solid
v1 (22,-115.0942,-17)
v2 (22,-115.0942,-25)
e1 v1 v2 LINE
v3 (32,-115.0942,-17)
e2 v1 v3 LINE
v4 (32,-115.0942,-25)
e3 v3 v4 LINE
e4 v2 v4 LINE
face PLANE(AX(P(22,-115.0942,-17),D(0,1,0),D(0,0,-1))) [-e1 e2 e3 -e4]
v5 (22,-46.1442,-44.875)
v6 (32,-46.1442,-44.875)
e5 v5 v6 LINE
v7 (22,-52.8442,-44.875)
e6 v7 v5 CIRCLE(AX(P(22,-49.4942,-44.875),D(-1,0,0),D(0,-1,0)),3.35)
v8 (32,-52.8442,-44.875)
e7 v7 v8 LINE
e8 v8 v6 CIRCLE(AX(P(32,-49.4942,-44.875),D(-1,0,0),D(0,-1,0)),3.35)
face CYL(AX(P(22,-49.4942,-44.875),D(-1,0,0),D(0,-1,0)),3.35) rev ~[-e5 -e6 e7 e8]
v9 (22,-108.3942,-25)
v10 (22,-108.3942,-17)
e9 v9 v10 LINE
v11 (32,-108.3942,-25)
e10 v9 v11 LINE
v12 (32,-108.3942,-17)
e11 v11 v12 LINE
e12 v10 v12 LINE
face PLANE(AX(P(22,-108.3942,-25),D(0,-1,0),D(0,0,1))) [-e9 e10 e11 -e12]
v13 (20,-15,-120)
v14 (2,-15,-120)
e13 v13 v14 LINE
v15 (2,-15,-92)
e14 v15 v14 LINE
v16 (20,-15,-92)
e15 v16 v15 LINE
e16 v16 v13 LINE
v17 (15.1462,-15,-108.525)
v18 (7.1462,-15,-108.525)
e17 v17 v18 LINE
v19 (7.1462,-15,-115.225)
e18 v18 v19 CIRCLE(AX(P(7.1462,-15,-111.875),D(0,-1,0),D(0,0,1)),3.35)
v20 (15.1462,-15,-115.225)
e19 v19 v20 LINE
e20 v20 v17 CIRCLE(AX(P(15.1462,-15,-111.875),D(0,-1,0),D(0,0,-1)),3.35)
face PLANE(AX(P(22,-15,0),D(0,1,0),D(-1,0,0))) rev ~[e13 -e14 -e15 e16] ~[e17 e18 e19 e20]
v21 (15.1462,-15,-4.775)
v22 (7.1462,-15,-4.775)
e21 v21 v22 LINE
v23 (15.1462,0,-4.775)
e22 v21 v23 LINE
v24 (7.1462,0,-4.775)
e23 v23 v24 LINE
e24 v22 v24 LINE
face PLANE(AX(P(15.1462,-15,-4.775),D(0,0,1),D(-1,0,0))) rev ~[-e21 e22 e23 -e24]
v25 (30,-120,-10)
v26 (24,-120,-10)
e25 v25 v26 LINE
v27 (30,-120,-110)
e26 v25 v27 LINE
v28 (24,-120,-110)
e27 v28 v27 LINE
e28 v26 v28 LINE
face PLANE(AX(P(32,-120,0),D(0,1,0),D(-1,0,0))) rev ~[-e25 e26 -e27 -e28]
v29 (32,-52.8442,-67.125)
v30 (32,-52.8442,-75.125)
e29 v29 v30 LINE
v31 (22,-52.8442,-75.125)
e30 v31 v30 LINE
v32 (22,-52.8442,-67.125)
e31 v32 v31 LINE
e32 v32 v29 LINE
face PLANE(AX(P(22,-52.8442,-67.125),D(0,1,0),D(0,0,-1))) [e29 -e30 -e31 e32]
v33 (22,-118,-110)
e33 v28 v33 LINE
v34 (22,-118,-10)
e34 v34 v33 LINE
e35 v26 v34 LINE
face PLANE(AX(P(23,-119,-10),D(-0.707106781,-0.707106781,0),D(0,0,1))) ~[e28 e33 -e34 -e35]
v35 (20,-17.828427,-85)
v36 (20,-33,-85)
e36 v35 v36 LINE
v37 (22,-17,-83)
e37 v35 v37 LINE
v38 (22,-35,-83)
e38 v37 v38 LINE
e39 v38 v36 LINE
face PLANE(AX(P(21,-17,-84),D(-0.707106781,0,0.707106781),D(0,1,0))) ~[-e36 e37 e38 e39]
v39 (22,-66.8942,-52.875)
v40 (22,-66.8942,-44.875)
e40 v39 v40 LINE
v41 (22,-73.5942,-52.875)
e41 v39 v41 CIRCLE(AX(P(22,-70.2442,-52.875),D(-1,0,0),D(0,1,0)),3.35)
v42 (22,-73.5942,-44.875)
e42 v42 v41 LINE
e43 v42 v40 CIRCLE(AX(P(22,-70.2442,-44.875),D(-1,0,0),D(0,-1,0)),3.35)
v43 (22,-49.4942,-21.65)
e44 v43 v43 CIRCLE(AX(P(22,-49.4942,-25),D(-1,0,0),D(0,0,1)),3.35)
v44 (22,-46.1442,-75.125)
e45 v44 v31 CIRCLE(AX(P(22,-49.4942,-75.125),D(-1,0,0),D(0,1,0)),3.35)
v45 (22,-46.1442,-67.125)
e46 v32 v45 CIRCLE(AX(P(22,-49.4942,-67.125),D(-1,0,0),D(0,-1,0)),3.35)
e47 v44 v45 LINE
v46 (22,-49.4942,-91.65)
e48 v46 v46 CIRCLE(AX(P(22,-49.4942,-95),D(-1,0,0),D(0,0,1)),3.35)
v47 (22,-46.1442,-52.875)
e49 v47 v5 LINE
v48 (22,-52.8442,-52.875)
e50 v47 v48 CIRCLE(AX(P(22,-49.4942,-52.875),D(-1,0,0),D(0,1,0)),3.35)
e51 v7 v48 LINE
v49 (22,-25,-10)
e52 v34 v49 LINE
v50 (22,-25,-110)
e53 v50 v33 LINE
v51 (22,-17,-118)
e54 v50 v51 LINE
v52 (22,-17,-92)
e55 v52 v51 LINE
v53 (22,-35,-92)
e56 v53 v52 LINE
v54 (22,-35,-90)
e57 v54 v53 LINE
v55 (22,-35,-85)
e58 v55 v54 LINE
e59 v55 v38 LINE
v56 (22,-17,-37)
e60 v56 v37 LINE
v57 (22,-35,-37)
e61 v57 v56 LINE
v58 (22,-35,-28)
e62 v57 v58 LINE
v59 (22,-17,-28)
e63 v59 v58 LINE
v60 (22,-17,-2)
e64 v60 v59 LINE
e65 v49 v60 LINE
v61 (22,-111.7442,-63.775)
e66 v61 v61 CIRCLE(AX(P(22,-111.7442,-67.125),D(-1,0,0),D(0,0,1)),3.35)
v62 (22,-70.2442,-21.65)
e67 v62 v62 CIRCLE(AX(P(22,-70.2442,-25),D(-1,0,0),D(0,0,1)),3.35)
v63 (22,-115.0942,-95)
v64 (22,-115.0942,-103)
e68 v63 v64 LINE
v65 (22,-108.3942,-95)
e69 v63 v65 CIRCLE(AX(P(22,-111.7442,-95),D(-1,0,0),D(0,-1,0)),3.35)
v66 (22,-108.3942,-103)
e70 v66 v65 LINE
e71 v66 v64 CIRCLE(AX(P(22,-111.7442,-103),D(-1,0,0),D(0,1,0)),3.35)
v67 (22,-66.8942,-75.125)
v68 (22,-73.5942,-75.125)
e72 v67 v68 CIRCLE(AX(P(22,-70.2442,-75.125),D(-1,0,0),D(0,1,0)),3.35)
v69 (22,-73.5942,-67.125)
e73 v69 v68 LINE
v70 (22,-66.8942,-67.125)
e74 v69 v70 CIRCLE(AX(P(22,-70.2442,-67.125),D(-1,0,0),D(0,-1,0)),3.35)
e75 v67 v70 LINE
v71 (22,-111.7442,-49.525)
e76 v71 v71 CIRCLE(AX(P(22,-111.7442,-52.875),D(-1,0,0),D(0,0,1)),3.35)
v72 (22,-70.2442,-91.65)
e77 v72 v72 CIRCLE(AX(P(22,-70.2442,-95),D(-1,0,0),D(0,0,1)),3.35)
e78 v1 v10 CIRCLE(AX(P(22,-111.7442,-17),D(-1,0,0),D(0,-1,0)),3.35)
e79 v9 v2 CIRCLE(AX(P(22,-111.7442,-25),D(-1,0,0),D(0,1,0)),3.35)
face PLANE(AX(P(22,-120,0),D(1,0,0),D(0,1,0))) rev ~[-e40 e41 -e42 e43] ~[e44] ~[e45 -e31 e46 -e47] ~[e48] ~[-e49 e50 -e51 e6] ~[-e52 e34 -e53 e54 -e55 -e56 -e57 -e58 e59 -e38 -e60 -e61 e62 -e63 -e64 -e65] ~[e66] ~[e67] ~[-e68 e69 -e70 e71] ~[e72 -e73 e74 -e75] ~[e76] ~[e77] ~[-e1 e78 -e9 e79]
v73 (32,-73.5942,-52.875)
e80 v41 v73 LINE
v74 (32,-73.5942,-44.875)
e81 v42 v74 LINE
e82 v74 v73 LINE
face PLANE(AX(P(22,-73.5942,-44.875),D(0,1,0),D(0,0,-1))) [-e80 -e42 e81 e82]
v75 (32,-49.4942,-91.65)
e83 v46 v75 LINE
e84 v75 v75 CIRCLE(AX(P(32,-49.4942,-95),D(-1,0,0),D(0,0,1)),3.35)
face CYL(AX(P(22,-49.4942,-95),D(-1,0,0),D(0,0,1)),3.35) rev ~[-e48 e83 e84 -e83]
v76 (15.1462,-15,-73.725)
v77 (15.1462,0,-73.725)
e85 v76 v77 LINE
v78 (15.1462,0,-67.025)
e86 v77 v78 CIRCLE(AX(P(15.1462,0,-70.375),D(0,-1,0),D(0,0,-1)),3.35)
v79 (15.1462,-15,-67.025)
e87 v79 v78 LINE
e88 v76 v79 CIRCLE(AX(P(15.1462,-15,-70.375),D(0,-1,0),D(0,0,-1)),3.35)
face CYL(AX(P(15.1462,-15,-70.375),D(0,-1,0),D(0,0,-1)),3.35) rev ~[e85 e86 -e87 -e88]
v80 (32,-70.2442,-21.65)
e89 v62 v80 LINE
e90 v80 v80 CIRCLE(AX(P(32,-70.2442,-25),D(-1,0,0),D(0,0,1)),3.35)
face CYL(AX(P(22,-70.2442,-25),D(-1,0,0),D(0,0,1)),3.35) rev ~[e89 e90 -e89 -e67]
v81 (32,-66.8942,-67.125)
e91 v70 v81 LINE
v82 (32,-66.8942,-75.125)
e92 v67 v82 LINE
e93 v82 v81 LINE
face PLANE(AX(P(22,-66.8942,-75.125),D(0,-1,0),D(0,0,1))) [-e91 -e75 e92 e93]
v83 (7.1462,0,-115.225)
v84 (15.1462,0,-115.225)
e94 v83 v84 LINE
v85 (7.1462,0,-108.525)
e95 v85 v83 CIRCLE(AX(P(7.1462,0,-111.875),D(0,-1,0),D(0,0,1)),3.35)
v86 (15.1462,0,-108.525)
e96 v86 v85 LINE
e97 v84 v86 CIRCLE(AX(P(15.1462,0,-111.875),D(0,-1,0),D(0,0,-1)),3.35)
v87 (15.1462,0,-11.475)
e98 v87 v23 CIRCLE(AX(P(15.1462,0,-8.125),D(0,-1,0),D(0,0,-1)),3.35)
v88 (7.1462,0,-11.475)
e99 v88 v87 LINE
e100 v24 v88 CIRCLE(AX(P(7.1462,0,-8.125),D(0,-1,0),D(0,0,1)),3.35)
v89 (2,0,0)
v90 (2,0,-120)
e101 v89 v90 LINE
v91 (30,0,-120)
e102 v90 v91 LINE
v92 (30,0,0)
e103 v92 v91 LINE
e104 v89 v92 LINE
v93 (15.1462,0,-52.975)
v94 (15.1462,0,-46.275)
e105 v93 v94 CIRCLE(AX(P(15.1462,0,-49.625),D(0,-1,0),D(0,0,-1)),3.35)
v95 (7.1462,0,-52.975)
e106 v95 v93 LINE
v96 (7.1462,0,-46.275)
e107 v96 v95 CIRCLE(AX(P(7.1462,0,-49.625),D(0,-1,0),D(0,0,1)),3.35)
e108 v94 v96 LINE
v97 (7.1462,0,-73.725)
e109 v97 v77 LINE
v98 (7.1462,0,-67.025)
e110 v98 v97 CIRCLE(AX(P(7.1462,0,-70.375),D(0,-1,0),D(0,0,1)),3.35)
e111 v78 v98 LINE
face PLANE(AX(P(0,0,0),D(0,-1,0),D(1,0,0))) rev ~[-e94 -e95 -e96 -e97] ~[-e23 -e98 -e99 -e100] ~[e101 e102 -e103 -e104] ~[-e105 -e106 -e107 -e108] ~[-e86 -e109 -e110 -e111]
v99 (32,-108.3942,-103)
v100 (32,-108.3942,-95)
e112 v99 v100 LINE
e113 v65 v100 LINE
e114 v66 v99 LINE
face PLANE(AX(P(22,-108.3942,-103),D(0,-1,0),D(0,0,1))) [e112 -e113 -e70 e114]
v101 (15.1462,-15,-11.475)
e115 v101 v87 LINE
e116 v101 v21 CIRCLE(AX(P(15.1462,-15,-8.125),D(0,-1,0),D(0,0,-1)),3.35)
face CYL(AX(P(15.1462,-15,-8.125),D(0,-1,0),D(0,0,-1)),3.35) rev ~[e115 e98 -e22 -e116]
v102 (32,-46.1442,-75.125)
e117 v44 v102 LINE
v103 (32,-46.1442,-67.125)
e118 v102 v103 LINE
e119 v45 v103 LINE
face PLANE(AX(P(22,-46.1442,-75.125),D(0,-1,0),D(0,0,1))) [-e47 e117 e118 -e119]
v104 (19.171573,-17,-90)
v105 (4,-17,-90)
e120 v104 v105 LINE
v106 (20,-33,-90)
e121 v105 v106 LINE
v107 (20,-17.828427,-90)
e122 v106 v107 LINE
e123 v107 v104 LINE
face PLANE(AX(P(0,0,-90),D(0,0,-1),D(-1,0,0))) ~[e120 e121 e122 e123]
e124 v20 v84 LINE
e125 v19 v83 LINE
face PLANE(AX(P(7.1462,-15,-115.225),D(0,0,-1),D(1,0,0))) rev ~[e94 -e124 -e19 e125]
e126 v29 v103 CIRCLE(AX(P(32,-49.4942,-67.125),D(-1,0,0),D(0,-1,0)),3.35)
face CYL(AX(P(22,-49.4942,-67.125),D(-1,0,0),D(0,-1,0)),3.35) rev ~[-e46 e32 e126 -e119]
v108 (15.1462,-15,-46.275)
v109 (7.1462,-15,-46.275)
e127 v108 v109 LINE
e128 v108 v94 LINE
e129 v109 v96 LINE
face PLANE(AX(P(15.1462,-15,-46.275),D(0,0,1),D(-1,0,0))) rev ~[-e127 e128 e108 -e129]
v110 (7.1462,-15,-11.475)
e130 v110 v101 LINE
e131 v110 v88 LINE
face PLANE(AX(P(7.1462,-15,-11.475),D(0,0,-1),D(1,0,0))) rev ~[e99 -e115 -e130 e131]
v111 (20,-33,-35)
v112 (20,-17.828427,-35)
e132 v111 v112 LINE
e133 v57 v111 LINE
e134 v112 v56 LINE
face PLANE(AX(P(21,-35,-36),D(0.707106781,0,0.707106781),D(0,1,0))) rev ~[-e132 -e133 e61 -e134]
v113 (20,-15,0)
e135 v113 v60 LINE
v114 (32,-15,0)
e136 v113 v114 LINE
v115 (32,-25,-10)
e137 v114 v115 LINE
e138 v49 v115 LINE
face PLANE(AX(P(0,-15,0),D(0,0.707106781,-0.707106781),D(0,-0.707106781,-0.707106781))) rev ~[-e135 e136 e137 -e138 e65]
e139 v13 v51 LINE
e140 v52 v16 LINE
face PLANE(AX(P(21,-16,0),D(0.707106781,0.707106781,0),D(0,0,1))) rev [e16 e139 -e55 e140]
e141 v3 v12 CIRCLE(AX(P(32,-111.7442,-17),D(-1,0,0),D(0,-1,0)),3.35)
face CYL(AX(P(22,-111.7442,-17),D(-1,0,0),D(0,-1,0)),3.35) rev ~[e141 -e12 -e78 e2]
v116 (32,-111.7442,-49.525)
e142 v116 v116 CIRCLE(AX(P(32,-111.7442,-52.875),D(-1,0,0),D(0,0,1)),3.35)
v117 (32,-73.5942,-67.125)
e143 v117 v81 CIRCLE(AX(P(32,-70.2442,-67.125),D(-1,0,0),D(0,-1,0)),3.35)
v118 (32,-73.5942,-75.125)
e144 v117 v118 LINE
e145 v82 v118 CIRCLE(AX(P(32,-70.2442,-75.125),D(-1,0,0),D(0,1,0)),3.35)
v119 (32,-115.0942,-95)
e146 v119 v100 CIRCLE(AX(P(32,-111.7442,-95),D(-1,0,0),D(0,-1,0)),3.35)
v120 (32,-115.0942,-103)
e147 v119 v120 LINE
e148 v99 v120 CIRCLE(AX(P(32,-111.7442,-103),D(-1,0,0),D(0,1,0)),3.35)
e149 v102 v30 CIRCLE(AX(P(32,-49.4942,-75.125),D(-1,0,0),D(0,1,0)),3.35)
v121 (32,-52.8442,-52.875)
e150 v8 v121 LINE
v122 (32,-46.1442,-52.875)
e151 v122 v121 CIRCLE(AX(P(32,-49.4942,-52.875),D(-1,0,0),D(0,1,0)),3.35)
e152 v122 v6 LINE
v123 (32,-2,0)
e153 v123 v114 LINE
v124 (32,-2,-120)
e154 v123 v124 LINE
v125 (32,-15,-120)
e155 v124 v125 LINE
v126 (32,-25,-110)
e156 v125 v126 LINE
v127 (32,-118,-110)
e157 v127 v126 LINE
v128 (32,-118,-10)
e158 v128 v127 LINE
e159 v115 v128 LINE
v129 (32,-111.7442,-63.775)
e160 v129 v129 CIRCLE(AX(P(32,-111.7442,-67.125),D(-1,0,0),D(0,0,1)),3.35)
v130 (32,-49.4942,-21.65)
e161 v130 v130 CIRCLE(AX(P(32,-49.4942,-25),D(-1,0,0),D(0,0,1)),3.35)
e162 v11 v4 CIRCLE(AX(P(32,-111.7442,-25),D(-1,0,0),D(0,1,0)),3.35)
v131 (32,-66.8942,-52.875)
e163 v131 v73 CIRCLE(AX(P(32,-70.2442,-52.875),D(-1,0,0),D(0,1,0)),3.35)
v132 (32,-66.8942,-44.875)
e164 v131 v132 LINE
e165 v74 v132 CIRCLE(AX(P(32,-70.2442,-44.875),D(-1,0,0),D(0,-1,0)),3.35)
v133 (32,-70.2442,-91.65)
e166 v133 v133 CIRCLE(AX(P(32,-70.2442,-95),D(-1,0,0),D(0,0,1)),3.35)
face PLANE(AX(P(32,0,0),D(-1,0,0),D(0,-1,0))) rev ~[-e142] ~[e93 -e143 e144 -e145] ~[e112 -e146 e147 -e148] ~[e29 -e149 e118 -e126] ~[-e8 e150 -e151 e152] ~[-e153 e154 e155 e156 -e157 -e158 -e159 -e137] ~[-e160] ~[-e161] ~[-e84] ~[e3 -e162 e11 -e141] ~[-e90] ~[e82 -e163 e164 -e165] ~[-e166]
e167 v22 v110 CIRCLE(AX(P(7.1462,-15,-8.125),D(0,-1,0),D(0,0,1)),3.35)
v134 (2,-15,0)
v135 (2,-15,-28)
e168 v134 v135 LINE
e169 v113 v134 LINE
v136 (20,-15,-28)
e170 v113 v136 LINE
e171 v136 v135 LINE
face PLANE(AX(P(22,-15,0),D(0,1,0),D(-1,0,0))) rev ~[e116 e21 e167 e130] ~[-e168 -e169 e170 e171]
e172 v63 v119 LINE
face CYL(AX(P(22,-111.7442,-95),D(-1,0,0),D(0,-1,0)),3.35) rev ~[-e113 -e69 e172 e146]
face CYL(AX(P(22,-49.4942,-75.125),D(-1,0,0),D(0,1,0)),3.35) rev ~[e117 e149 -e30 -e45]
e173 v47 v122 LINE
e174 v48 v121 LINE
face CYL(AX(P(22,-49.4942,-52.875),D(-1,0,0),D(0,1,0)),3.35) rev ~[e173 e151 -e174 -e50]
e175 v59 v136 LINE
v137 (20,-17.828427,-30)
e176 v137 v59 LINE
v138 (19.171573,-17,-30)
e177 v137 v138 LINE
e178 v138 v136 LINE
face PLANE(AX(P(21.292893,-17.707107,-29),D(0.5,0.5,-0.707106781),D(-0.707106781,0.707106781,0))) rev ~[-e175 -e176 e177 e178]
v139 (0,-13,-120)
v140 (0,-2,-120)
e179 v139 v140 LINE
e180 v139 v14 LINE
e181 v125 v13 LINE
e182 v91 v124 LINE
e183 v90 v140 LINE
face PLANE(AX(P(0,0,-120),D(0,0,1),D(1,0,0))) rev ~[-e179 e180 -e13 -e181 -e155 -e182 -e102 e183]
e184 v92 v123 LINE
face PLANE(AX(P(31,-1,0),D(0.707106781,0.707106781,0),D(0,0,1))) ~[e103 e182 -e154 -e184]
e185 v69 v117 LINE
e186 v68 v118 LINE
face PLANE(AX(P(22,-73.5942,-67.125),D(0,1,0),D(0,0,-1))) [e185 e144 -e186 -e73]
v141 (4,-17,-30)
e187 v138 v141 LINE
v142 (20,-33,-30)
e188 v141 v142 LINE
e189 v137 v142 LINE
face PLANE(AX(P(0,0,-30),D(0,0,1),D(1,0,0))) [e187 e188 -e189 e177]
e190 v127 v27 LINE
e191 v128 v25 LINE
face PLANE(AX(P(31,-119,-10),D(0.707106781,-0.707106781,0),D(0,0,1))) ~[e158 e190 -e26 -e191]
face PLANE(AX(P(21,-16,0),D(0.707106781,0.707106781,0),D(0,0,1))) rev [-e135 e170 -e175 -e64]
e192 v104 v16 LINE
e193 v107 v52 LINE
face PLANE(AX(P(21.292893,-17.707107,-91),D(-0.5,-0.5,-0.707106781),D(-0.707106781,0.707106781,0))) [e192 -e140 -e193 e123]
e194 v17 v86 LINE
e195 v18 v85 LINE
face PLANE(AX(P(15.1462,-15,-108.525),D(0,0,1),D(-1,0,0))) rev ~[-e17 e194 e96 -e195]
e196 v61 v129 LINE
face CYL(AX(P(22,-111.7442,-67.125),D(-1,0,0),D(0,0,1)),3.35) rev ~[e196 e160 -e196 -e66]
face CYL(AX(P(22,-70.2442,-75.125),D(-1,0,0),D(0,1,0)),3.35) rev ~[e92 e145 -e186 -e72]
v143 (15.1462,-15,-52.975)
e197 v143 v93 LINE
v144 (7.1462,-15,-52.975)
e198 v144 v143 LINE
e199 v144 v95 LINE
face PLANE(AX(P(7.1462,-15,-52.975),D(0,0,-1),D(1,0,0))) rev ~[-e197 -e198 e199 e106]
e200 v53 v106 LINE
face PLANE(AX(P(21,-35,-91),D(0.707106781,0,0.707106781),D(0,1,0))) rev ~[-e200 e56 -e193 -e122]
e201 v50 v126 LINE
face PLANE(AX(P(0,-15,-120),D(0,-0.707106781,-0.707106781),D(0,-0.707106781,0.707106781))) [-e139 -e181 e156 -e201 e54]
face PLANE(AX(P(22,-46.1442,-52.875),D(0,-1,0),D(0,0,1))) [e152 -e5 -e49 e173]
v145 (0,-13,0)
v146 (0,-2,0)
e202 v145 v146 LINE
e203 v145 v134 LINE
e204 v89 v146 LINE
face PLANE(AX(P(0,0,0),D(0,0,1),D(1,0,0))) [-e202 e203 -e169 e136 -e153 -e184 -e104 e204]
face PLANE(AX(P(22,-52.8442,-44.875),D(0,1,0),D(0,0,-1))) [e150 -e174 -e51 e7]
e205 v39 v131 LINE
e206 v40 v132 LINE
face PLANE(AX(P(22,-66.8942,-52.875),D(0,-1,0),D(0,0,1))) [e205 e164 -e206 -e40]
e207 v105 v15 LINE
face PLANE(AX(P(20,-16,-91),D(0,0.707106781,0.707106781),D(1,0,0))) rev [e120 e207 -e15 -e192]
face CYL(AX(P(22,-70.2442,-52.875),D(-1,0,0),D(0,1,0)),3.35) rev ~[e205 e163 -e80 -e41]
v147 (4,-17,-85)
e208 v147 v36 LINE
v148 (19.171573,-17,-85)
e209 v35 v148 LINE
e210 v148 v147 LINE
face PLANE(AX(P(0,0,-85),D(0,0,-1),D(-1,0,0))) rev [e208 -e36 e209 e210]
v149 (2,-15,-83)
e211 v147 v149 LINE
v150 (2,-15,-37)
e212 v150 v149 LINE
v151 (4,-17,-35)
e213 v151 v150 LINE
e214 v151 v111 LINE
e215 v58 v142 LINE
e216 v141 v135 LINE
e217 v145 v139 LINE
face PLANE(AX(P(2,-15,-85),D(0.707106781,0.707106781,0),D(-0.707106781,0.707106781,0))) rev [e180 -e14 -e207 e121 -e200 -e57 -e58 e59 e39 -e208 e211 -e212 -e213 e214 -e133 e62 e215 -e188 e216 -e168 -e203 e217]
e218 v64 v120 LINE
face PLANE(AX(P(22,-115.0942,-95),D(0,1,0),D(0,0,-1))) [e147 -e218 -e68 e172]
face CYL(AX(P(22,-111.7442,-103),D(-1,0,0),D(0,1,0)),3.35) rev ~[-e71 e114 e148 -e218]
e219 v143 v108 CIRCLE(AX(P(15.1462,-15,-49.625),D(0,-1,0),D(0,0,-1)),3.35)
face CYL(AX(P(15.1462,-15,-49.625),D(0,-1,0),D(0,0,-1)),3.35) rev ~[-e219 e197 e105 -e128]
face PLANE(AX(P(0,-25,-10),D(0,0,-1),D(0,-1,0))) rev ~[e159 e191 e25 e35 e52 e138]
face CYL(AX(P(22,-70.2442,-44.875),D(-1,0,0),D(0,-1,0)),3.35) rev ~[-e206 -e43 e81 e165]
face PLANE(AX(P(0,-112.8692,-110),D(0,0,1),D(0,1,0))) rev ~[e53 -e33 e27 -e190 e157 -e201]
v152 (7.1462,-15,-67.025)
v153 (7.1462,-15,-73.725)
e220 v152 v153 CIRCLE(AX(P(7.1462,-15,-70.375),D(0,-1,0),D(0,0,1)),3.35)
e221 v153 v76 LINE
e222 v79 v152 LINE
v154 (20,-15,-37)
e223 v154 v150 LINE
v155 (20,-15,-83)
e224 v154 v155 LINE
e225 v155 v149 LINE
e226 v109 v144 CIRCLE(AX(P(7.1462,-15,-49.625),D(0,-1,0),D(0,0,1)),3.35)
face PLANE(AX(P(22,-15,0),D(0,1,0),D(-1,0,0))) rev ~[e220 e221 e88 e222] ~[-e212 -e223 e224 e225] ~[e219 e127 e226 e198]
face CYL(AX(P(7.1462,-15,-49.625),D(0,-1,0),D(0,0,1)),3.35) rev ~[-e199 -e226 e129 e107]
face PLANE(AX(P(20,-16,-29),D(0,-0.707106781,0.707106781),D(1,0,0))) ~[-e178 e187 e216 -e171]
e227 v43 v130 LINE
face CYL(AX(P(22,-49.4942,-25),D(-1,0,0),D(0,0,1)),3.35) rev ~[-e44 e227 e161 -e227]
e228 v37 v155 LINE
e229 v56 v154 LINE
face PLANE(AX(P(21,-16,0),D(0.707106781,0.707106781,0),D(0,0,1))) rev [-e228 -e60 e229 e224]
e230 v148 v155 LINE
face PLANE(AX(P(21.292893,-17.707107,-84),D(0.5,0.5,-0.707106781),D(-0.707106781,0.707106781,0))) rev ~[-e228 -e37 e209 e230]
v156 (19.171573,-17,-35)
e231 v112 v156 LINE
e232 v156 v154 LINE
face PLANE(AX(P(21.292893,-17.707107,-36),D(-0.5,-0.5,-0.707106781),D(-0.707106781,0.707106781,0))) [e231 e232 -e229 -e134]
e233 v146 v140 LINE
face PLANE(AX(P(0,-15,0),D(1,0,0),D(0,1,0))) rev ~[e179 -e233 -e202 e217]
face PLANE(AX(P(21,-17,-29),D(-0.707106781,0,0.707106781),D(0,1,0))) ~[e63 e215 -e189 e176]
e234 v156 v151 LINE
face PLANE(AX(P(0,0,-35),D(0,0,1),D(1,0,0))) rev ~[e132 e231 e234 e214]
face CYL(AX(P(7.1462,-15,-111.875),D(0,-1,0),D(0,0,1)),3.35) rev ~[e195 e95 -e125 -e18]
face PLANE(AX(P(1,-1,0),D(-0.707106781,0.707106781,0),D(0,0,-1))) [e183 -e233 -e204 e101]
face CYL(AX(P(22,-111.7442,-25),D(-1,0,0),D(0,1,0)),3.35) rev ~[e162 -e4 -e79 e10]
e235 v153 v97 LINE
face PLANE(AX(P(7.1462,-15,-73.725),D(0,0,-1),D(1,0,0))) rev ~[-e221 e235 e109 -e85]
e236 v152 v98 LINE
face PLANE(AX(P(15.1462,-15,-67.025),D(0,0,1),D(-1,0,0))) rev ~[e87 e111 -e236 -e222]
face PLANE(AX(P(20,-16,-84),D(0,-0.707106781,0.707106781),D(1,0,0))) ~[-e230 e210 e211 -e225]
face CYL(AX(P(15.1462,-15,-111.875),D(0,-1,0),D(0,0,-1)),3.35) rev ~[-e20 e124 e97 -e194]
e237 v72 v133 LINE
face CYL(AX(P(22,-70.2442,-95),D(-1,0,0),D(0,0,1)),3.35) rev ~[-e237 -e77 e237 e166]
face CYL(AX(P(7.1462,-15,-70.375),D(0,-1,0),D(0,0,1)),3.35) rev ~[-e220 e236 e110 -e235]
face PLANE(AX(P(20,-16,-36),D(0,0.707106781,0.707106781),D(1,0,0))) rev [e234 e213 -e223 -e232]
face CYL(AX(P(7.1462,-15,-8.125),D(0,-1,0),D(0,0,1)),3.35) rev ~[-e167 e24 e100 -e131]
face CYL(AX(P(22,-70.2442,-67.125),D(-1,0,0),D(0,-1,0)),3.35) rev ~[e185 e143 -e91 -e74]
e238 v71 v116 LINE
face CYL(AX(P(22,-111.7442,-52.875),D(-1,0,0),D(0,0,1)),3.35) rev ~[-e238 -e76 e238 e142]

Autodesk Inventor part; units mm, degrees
ref_plane "YZ Plane" through (0, 0, 0) normal (1, 0, 0) x (0, 1, 0)
ref_plane "XZ Plane" through (0, 0, 0) normal (0, 1, 0) x (-1, 0, 0)
ref_plane "XY Plane" through (0, 0, 0) normal (0, 0, 1) x (1, 0, 0)
sketch "Sketch1" plane through (0, 0, 0) normal (0, 0, 1) x (1, 0, 0)
  line L0 (0, 0) -> (32, 0)
  line L1 (32, 0) -> (32, -120)
  line L2 (32, -120) -> (22, -120)
  line L3 (22, -120) -> (22, -15)
  line L4 (22, -15) -> (0, -15)
  line L5 (0, -15) -> (0, 0)
  dimension "d3" = 120
  dimension "d4" = 10
  dimension "d5" = 22
  dimension "d8" = 15
extrude "Extrusion1" add sketch "Sketch1" against normal blind 120
sketch "Sketch3" plane through (0, -15, 0) normal (-1, 0, 0) x (0, 0, 1)
  line L0 (-110, -97.8692) -> (-110, 18.1308) construction
  line L1 (-10, 18.1308) -> (-10, -97.8692) construction
  line L2 (-25, 8.9558) -> (-17, 8.9558) construction
  arc A0 (-17, 8.9558) -> (-17, 15.0558) centre (-17, 12.0058) ccw construction
  line L3 (-17, 15.0558) -> (-25, 15.0558) construction
  arc A1 (-25, 15.0558) -> (-25, 8.9558) centre (-25, 12.0058) ccw construction
  line L4 (-25, -94.7942) -> (-17, -94.7942) construction
  arc A2 (-17, -94.7942) -> (-17, -88.6942) centre (-17, -91.7442) ccw construction
  line L5 (-17, -88.6942) -> (-25, -88.6942) construction
  arc A3 (-25, -88.6942) -> (-25, -94.7942) centre (-25, -91.7442) ccw construction
  circle A4 centre (-25, -50.2442) radius 3.05 construction
  circle A5 centre (-25, -29.4942) radius 3.05 construction
  circle A6 centre (-95, -29.4942) radius 3.05 construction
  circle A7 centre (-95, -50.2442) radius 3.05 construction
  line L6 (-95, 15.0558) -> (-103, 15.0558) construction
  arc A8 (-103, 15.0558) -> (-103, 8.9558) centre (-103, 12.0058) ccw construction
  line L7 (-103, 8.9558) -> (-95, 8.9558) construction
  arc A9 (-95, 8.9558) -> (-95, 15.0558) centre (-95, 12.0058) ccw construction
  circle A10 centre (-67.125, 12.0058) radius 3.05 construction
  line L8 (-52.875, -32.5442) -> (-44.875, -32.5442) construction
  arc A11 (-44.875, -32.5442) -> (-44.875, -26.4442) centre (-44.875, -29.4942) ccw construction
  line L9 (-44.875, -26.4442) -> (-52.875, -26.4442) construction
  arc A12 (-52.875, -26.4442) -> (-52.875, -32.5442) centre (-52.875, -29.4942) ccw construction
  circle A13 centre (-52.875, -91.7442) radius 3.05 construction
  circle A14 centre (-52.875, 12.0058) radius 3.05 construction
  line L10 (-52.875, -53.2942) -> (-44.875, -53.2942) construction
  arc A15 (-44.875, -53.2942) -> (-44.875, -47.1942) centre (-44.875, -50.2442) ccw construction
  line L11 (-44.875, -47.1942) -> (-52.875, -47.1942) construction
  arc A16 (-52.875, -47.1942) -> (-52.875, -53.2942) centre (-52.875, -50.2442) ccw construction
  circle A17 centre (-67.125, -91.7442) radius 3.05 construction
  line L12 (-75.125, -53.2942) -> (-67.125, -53.2942) construction
  arc A18 (-67.125, -53.2942) -> (-67.125, -47.1942) centre (-67.125, -50.2442) ccw construction
  line L13 (-67.125, -47.1942) -> (-75.125, -47.1942) construction
  arc A19 (-75.125, -47.1942) -> (-75.125, -53.2942) centre (-75.125, -50.2442) ccw construction
  line L14 (-103, -94.7942) -> (-95, -94.7942) construction
  arc A20 (-95, -94.7942) -> (-95, -88.6942) centre (-95, -91.7442) ccw construction
  line L15 (-95, -88.6942) -> (-103, -88.6942) construction
  arc A21 (-103, -88.6942) -> (-103, -94.7942) centre (-103, -91.7442) ccw construction
  line L16 (-75.125, -32.5442) -> (-67.125, -32.5442) construction
  arc A22 (-67.125, -32.5442) -> (-67.125, -26.4442) centre (-67.125, -29.4942) ccw construction
  line L17 (-67.125, -26.4442) -> (-75.125, -26.4442) construction
  arc A23 (-75.125, -26.4442) -> (-75.125, -32.5442) centre (-75.125, -29.4942) ccw construction
  line L18 (0, -105) -> (0, 0) construction
  line L19 (0, 0) -> (-120, 0) construction
  line L20 (-120, -105) -> (-120, 0) construction
  line L21 (0, -105) -> (-120, -105) construction
  line L22 (0, 0) -> (0, 15) construction
  line L23 (0, 15) -> (-120, 15) construction
  line L24 (-120, 0) -> (-120, 15) construction
  line L25 (0, 0) -> (-120, 0) construction
  line L26 (-120, 0) -> (-110, -10)
  line L27 (-110, -99.8692) -> (-110, -10)
  line L28 (0, -105) -> (-120, -105) projected
  line L29 (-120, -105) -> (-110, -99.8692)
  line L30 (-120, -105) -> (-120, 0)
  line L31 (-120, 15) -> (-120, -105) projected
  line L32 (0, 0) -> (-120, 0) projected
  line L33 (0, 0) -> (-10, -10)
  line L34 (-10, -10) -> (-10, -99.8692)
  line L35 (0, 15) -> (0, -105) projected
  line L36 (-10, -99.8692) -> (0, -105)
  line L37 (0, -105) -> (0, -105)
  line L38 (0, 0) -> (0, -105)
  line L39 (-120, -98.4303) -> (-110, -98.4303)
  line L40 (-110, -98.4303) -> (-110, -107.1574)
  line L41 (-110, -107.1574) -> (-120, -107.1574)
  line L42 (-120, -107.1574) -> (-120, -98.4303)
  line L43 (0, -94.7942) -> (-10, -94.7942)
  line L44 (-10, -94.7942) -> (-10, -110)
  line L45 (-10, -110) -> (0, -110)
  line L46 (0, -110) -> (0, -94.7942)
  line L47 (-10, 18.1308) -> (-110, 18.1308) projected
  line L48 (-110, -97.8692) -> (-10, -97.8692) projected
  point P0 (-213, 15.0558)
  point P1 (-213, -88.6942)
  point P2 (-127, 8.9558)
  point P3 (-185.125, -26.4442)
  point P4 (-185.125, -47.1942)
  point P5 (-162.875, -47.1942)
  point P6 (-135, -88.6942)
  point P7 (-162.875, -26.4442)
  dimension "d3" = 120
  dimension "d4" = 10
  dimension "d5" = 22
  dimension "d8" = 15
  dimension "d12" = 135
  dimension "d13" = 135
extrude "Extrusion2" cut sketch "Sketch3" against normal through all contours L26 L27 L39 L30 | L39 L27 L29 L30 | L35 L43 L34 L33 | L29 L40 L28 | L28 L40 L41 L42 | L35 L36 L34 L43 | L46 L45 L44 L28 | L28 L44 L36
chamfer "Chamfer2" distance 2 angle 45 6 edges at (22, -15, -60) (0, -15, -60) (0, 0, -60) (32, 0, -60) (32, -120, -60) (22, -120, -60)
sketch "Sketch4" plane through (2, -15, -120) normal (0, -1, 0) x (1, 0, 0)
  line L0 (98.1462, 2) -> (-1.8538, 2) construction
  line L1 (98.1462, 2) -> (98.1462, 118) construction
  line L2 (-1.8538, 118) -> (98.1462, 118) construction
  line L3 (-1.8538, 118) -> (-1.8538, 2) construction
  line L4 (83.1462, 11.175) -> (91.1462, 11.175) construction
  arc A0 (91.1462, 5.075) -> (91.1462, 11.175) centre (91.1462, 8.125) ccw construction
  line L5 (91.1462, 5.075) -> (83.1462, 5.075) construction
  arc A1 (83.1462, 11.175) -> (83.1462, 5.075) centre (83.1462, 8.125) ccw construction
  line L6 (83.1462, 114.925) -> (91.1462, 114.925) construction
  arc A2 (91.1462, 108.825) -> (91.1462, 114.925) centre (91.1462, 111.875) ccw construction
  line L7 (91.1462, 108.825) -> (83.1462, 108.825) construction
  arc A3 (83.1462, 114.925) -> (83.1462, 108.825) centre (83.1462, 111.875) ccw construction
  circle A4 centre (83.1462, 70.375) radius 3.05 construction
  circle A5 centre (83.1462, 49.625) radius 3.05 construction
  circle A6 centre (13.1462, 49.625) radius 3.05 construction
  circle A7 centre (13.1462, 70.375) radius 3.05 construction
  line L8 (13.1462, 5.075) -> (5.1462, 5.075) construction
  arc A8 (5.1462, 11.175) -> (5.1462, 5.075) centre (5.1462, 8.125) ccw construction
  line L9 (5.1462, 11.175) -> (13.1462, 11.175) construction
  arc A9 (13.1462, 5.075) -> (13.1462, 11.175) centre (13.1462, 8.125) ccw construction
  circle A10 centre (41.0212, 8.125) radius 3.05 construction
  line L10 (55.2712, 52.675) -> (63.2712, 52.675) construction
  arc A11 (63.2712, 46.575) -> (63.2712, 52.675) centre (63.2712, 49.625) ccw construction
  line L11 (63.2712, 46.575) -> (55.2712, 46.575) construction
  arc A12 (55.2712, 52.675) -> (55.2712, 46.575) centre (55.2712, 49.625) ccw construction
  circle A13 centre (55.2712, 111.875) radius 3.05 construction
  circle A14 centre (55.2712, 8.125) radius 3.05 construction
  line L12 (55.2712, 73.425) -> (63.2712, 73.425) construction
  arc A15 (63.2712, 67.325) -> (63.2712, 73.425) centre (63.2712, 70.375) ccw construction
  line L13 (63.2712, 67.325) -> (55.2712, 67.325) construction
  arc A16 (55.2712, 73.425) -> (55.2712, 67.325) centre (55.2712, 70.375) ccw construction
  circle A17 centre (41.0212, 111.875) radius 3.05 construction
  line L14 (33.0212, 73.425) -> (41.0212, 73.425) construction
  arc A18 (41.0212, 67.325) -> (41.0212, 73.425) centre (41.0212, 70.375) ccw construction
  line L15 (41.0212, 67.325) -> (33.0212, 67.325) construction
  arc A19 (33.0212, 73.425) -> (33.0212, 67.325) centre (33.0212, 70.375) ccw construction
  line L16 (5.1462, 114.925) -> (13.1462, 114.925) construction
  arc A20 (13.1462, 108.825) -> (13.1462, 114.925) centre (13.1462, 111.875) ccw construction
  line L17 (13.1462, 108.825) -> (5.1462, 108.825) construction
  arc A21 (5.1462, 114.925) -> (5.1462, 108.825) centre (5.1462, 111.875) ccw construction
  line L18 (33.0212, 52.675) -> (41.0212, 52.675) construction
  arc A22 (41.0212, 46.575) -> (41.0212, 52.675) centre (41.0212, 49.625) ccw construction
  line L19 (41.0212, 46.575) -> (33.0212, 46.575) construction
  arc A23 (33.0212, 52.675) -> (33.0212, 46.575) centre (33.0212, 49.625) ccw construction
  line L20 (13.1462, 49.625) -> (5.1462, 49.625) construction
  line L21 (13.1462, 46.575) -> (5.1462, 46.575) construction
  line L22 (5.1462, 52.675) -> (13.1462, 52.675) construction
  arc A24 (13.1462, 46.575) -> (13.1462, 52.675) centre (13.1462, 49.625) ccw construction
  arc A25 (5.1462, 52.675) -> (5.1462, 46.575) centre (5.1462, 49.625) ccw construction
  line L23 (13.1462, 70.375) -> (5.1462, 70.375) construction
  line L24 (13.1462, 67.325) -> (5.1462, 67.325) construction
  line L25 (5.1462, 73.425) -> (13.1462, 73.425) construction
  arc A26 (13.1462, 67.325) -> (13.1462, 73.425) centre (13.1462, 70.375) ccw construction
  arc A27 (5.1462, 73.425) -> (5.1462, 67.325) centre (5.1462, 70.375) ccw construction
  line L26 (13.1462, 111.875) -> (5.1462, 111.875) construction
  line L27 (13.1462, 108.825) -> (5.1462, 108.825) construction
  line L28 (5.1462, 114.925) -> (13.1462, 114.925) construction
  arc A28 (13.1462, 108.825) -> (13.1462, 114.925) centre (13.1462, 111.875) ccw construction
  arc A29 (5.1462, 114.925) -> (5.1462, 108.825) centre (5.1462, 111.875) ccw construction
  line L29 (13.1462, 8.125) -> (5.1462, 8.125) construction
  line L30 (13.1462, 5.075) -> (5.1462, 5.075) construction
  line L31 (5.1462, 11.175) -> (13.1462, 11.175) construction
  arc A30 (13.1462, 5.075) -> (13.1462, 11.175) centre (13.1462, 8.125) ccw construction
  arc A31 (5.1462, 11.175) -> (5.1462, 5.075) centre (5.1462, 8.125) ccw construction
  line L32 (13.1462, 11.475) -> (5.1462, 11.475)
  arc A32 (5.1462, 11.475) -> (5.1462, 4.775) centre (5.1462, 8.125) ccw
  line L33 (5.1462, 4.775) -> (13.1462, 4.775)
  arc A33 (13.1462, 4.775) -> (13.1462, 11.475) centre (13.1462, 8.125) ccw
  line L34 (13.1462, 52.975) -> (5.1462, 52.975)
  arc A34 (5.1462, 52.975) -> (5.1462, 46.275) centre (5.1462, 49.625) ccw
  line L35 (5.1462, 46.275) -> (13.1462, 46.275)
  arc A35 (13.1462, 46.275) -> (13.1462, 52.975) centre (13.1462, 49.625) ccw
  line L36 (13.1462, 73.725) -> (5.1462, 73.725)
  arc A36 (5.1462, 73.725) -> (5.1462, 67.025) centre (5.1462, 70.375) ccw
  line L37 (5.1462, 67.025) -> (13.1462, 67.025)
  arc A37 (13.1462, 67.025) -> (13.1462, 73.725) centre (13.1462, 70.375) ccw
  line L38 (13.1462, 115.225) -> (5.1462, 115.225)
  arc A38 (5.1462, 115.225) -> (5.1462, 108.525) centre (5.1462, 111.875) ccw
  line L39 (5.1462, 108.525) -> (13.1462, 108.525)
  arc A39 (13.1462, 108.525) -> (13.1462, 115.225) centre (13.1462, 111.875) ccw
  point P0 (-2, 120)
  point P1 (9.1462, 49.625)
  point P2 (9.1462, 70.375)
  point P3 (9.1462, 111.875)
  point P4 (9.1462, 8.125)
  dimension "d30" = 0.3
sketch "Sketch5" plane through (22, -118, -10) normal (-1, 0, 0) x (0, 0, 1)
  line L0 (0, 116.1308) -> (-100, 116.1308) construction
  line L1 (0, 116.1308) -> (0, 0.1308) construction
  line L2 (-100, 0.1308) -> (0, 0.1308) construction
  line L3 (-100, 0.1308) -> (-100, 116.1308) construction
  line L4 (-15, 106.9558) -> (-7, 106.9558) construction
  arc A0 (-7, 106.9558) -> (-7, 113.0558) centre (-7, 110.0058) ccw construction
  line L5 (-7, 113.0558) -> (-15, 113.0558) construction
  arc A1 (-15, 113.0558) -> (-15, 106.9558) centre (-15, 110.0058) ccw construction
  line L6 (-15, 3.2058) -> (-7, 3.2058) construction
  arc A2 (-7, 3.2058) -> (-7, 9.3058) centre (-7, 6.2558) ccw construction
  line L7 (-7, 9.3058) -> (-15, 9.3058) construction
  arc A3 (-15, 9.3058) -> (-15, 3.2058) centre (-15, 6.2558) ccw construction
  circle A4 centre (-15, 47.7558) radius 3.05 construction
  circle A5 centre (-15, 68.5058) radius 3.05 construction
  circle A6 centre (-85, 68.5058) radius 3.05 construction
  circle A7 centre (-85, 47.7558) radius 3.05 construction
  line L8 (-85, 113.0558) -> (-93, 113.0558) construction
  arc A8 (-93, 113.0558) -> (-93, 106.9558) centre (-93, 110.0058) ccw construction
  line L9 (-93, 106.9558) -> (-85, 106.9558) construction
  arc A9 (-85, 106.9558) -> (-85, 113.0558) centre (-85, 110.0058) ccw construction
  circle A10 centre (-57.125, 110.0058) radius 3.05 construction
  line L10 (-42.875, 65.4558) -> (-34.875, 65.4558) construction
  arc A11 (-34.875, 65.4558) -> (-34.875, 71.5558) centre (-34.875, 68.5058) ccw construction
  line L11 (-34.875, 71.5558) -> (-42.875, 71.5558) construction
  arc A12 (-42.875, 71.5558) -> (-42.875, 65.4558) centre (-42.875, 68.5058) ccw construction
  circle A13 centre (-42.875, 6.2558) radius 3.05 construction
  circle A14 centre (-42.875, 110.0058) radius 3.05 construction
  line L12 (-42.875, 44.7058) -> (-34.875, 44.7058) construction
  arc A15 (-34.875, 44.7058) -> (-34.875, 50.8058) centre (-34.875, 47.7558) ccw construction
  line L13 (-34.875, 50.8058) -> (-42.875, 50.8058) construction
  arc A16 (-42.875, 50.8058) -> (-42.875, 44.7058) centre (-42.875, 47.7558) ccw construction
  circle A17 centre (-57.125, 6.2558) radius 3.05 construction
  line L14 (-65.125, 44.7058) -> (-57.125, 44.7058) construction
  arc A18 (-57.125, 44.7058) -> (-57.125, 50.8058) centre (-57.125, 47.7558) ccw construction
  line L15 (-57.125, 50.8058) -> (-65.125, 50.8058) construction
  arc A19 (-65.125, 50.8058) -> (-65.125, 44.7058) centre (-65.125, 47.7558) ccw construction
  line L16 (-93, 3.2058) -> (-85, 3.2058) construction
  arc A20 (-85, 3.2058) -> (-85, 9.3058) centre (-85, 6.2558) ccw construction
  line L17 (-85, 9.3058) -> (-93, 9.3058) construction
  arc A21 (-93, 9.3058) -> (-93, 3.2058) centre (-93, 6.2558) ccw construction
  line L18 (-65.125, 65.4558) -> (-57.125, 65.4558) construction
  arc A22 (-57.125, 65.4558) -> (-57.125, 71.5558) centre (-57.125, 68.5058) ccw construction
  line L19 (-57.125, 71.5558) -> (-65.125, 71.5558) construction
  arc A23 (-65.125, 71.5558) -> (-65.125, 65.4558) centre (-65.125, 68.5058) ccw construction
  circle A24 centre (-57.125, 6.2558) radius 3.35
  circle A25 centre (-42.875, 6.2558) radius 3.35
  circle A26 centre (-85, 47.7558) radius 3.35
  circle A27 centre (-85, 68.5058) radius 3.35
  circle A28 centre (-15, 47.7558) radius 3.35
  circle A29 centre (-15, 68.5058) radius 3.35
  line L20 (-93, 9.6058) -> (-85, 9.6058)
  arc A30 (-85, 2.9058) -> (-85, 9.6058) centre (-85, 6.2558) ccw
  line L21 (-85, 2.9058) -> (-93, 2.9058)
  arc A31 (-93, 9.6058) -> (-93, 2.9058) centre (-93, 6.2558) ccw
  line L22 (-15, 9.6058) -> (-7, 9.6058)
  arc A32 (-7, 2.9058) -> (-7, 9.6058) centre (-7, 6.2558) ccw
  line L23 (-7, 2.9058) -> (-15, 2.9058)
  arc A33 (-15, 9.6058) -> (-15, 2.9058) centre (-15, 6.2558) ccw
  line L24 (-42.875, 51.1058) -> (-34.875, 51.1058)
  arc A34 (-34.875, 44.4058) -> (-34.875, 51.1058) centre (-34.875, 47.7558) ccw
  line L25 (-34.875, 44.4058) -> (-42.875, 44.4058)
  arc A35 (-42.875, 51.1058) -> (-42.875, 44.4058) centre (-42.875, 47.7558) ccw
  line L26 (-65.125, 51.1058) -> (-57.125, 51.1058)
  arc A36 (-57.125, 44.4058) -> (-57.125, 51.1058) centre (-57.125, 47.7558) ccw
  line L27 (-57.125, 44.4058) -> (-65.125, 44.4058)
  arc A37 (-65.125, 51.1058) -> (-65.125, 44.4058) centre (-65.125, 47.7558) ccw
  line L28 (-65.125, 71.8558) -> (-57.125, 71.8558)
  arc A38 (-57.125, 65.1558) -> (-57.125, 71.8558) centre (-57.125, 68.5058) ccw
  line L29 (-57.125, 65.1558) -> (-65.125, 65.1558)
  arc A39 (-65.125, 71.8558) -> (-65.125, 65.1558) centre (-65.125, 68.5058) ccw
  line L30 (-42.875, 71.8558) -> (-34.875, 71.8558)
  arc A40 (-34.875, 65.1558) -> (-34.875, 71.8558) centre (-34.875, 68.5058) ccw
  line L31 (-34.875, 65.1558) -> (-42.875, 65.1558)
  arc A41 (-42.875, 71.8558) -> (-42.875, 65.1558) centre (-42.875, 68.5058) ccw
  point P0 (10, 118)
  dimension "d29" = 0.3
extrude "Extrusion3" cut sketch "Sketch5" against normal through all
extrude "Extrusion4" cut sketch "Sketch4" against normal through all
ref_plane "Work Plane1" through (0, 0, -35) normal (0, 0, 1) x (1, 0, 0)
sketch "Sketch6" plane through (0, 0, -35) normal (0, 0, 1) x (1, 0, 0)
  point P0 (0, 0)
sketch "Sketch7" plane through (0, 0, -35) normal (0, 0, 1) x (1, 0, 0)
  line L0 (32, -118) -> (30, -120) construction
  line L1 (30, -120) -> (24, -120) construction
  line L2 (24, -120) -> (22, -118) construction
  line L3 (22, -118) -> (22, -17) construction
  line L4 (22, -17) -> (20, -15) construction
  line L5 (20, -15) -> (2, -15) construction
  line L6 (2, -15) -> (0, -13) construction
  line L7 (0, -13) -> (0, -2) construction
  line L8 (0, -2) -> (2, 0) construction
  line L9 (2, 0) -> (30, 0) construction
  line L10 (30, 0) -> (32, -2) construction
  line L11 (32, -2) -> (32, -118) construction
  line L12 (0, -13) -> (2, -15) projected
  line L13 (2, -15) -> (22, -35)
  line L14 (22, -35) -> (22, -15)
  line L15 (32, -15) -> (20, -15) projected
  line L16 (22, -25) -> (22, -118) projected
  line L17 (22, -15) -> (2, -15)
  point P0 (0, 0)
extrude "Extrusion5" add sketch "Sketch7" along normal blind 5
chamfer "Chamfer3" distance 2 angle 45 6 edges at (11, -15, -30) (21, -16, -30) (22, -26, -30) (11, -15, -35) (21, -16, -35) (22, -26, -35)
ref_plane "Work Plane2" through (0, 0, -60) normal (0, 0, -1) x (-1, 0, 0)
mirror "Mirror1" about plane through (0, 0, -60) normal (0, 0, -1) of "Extrusion5", "Chamfer3"
properties part number "AXTS" material "PC/ABS Plastic"
